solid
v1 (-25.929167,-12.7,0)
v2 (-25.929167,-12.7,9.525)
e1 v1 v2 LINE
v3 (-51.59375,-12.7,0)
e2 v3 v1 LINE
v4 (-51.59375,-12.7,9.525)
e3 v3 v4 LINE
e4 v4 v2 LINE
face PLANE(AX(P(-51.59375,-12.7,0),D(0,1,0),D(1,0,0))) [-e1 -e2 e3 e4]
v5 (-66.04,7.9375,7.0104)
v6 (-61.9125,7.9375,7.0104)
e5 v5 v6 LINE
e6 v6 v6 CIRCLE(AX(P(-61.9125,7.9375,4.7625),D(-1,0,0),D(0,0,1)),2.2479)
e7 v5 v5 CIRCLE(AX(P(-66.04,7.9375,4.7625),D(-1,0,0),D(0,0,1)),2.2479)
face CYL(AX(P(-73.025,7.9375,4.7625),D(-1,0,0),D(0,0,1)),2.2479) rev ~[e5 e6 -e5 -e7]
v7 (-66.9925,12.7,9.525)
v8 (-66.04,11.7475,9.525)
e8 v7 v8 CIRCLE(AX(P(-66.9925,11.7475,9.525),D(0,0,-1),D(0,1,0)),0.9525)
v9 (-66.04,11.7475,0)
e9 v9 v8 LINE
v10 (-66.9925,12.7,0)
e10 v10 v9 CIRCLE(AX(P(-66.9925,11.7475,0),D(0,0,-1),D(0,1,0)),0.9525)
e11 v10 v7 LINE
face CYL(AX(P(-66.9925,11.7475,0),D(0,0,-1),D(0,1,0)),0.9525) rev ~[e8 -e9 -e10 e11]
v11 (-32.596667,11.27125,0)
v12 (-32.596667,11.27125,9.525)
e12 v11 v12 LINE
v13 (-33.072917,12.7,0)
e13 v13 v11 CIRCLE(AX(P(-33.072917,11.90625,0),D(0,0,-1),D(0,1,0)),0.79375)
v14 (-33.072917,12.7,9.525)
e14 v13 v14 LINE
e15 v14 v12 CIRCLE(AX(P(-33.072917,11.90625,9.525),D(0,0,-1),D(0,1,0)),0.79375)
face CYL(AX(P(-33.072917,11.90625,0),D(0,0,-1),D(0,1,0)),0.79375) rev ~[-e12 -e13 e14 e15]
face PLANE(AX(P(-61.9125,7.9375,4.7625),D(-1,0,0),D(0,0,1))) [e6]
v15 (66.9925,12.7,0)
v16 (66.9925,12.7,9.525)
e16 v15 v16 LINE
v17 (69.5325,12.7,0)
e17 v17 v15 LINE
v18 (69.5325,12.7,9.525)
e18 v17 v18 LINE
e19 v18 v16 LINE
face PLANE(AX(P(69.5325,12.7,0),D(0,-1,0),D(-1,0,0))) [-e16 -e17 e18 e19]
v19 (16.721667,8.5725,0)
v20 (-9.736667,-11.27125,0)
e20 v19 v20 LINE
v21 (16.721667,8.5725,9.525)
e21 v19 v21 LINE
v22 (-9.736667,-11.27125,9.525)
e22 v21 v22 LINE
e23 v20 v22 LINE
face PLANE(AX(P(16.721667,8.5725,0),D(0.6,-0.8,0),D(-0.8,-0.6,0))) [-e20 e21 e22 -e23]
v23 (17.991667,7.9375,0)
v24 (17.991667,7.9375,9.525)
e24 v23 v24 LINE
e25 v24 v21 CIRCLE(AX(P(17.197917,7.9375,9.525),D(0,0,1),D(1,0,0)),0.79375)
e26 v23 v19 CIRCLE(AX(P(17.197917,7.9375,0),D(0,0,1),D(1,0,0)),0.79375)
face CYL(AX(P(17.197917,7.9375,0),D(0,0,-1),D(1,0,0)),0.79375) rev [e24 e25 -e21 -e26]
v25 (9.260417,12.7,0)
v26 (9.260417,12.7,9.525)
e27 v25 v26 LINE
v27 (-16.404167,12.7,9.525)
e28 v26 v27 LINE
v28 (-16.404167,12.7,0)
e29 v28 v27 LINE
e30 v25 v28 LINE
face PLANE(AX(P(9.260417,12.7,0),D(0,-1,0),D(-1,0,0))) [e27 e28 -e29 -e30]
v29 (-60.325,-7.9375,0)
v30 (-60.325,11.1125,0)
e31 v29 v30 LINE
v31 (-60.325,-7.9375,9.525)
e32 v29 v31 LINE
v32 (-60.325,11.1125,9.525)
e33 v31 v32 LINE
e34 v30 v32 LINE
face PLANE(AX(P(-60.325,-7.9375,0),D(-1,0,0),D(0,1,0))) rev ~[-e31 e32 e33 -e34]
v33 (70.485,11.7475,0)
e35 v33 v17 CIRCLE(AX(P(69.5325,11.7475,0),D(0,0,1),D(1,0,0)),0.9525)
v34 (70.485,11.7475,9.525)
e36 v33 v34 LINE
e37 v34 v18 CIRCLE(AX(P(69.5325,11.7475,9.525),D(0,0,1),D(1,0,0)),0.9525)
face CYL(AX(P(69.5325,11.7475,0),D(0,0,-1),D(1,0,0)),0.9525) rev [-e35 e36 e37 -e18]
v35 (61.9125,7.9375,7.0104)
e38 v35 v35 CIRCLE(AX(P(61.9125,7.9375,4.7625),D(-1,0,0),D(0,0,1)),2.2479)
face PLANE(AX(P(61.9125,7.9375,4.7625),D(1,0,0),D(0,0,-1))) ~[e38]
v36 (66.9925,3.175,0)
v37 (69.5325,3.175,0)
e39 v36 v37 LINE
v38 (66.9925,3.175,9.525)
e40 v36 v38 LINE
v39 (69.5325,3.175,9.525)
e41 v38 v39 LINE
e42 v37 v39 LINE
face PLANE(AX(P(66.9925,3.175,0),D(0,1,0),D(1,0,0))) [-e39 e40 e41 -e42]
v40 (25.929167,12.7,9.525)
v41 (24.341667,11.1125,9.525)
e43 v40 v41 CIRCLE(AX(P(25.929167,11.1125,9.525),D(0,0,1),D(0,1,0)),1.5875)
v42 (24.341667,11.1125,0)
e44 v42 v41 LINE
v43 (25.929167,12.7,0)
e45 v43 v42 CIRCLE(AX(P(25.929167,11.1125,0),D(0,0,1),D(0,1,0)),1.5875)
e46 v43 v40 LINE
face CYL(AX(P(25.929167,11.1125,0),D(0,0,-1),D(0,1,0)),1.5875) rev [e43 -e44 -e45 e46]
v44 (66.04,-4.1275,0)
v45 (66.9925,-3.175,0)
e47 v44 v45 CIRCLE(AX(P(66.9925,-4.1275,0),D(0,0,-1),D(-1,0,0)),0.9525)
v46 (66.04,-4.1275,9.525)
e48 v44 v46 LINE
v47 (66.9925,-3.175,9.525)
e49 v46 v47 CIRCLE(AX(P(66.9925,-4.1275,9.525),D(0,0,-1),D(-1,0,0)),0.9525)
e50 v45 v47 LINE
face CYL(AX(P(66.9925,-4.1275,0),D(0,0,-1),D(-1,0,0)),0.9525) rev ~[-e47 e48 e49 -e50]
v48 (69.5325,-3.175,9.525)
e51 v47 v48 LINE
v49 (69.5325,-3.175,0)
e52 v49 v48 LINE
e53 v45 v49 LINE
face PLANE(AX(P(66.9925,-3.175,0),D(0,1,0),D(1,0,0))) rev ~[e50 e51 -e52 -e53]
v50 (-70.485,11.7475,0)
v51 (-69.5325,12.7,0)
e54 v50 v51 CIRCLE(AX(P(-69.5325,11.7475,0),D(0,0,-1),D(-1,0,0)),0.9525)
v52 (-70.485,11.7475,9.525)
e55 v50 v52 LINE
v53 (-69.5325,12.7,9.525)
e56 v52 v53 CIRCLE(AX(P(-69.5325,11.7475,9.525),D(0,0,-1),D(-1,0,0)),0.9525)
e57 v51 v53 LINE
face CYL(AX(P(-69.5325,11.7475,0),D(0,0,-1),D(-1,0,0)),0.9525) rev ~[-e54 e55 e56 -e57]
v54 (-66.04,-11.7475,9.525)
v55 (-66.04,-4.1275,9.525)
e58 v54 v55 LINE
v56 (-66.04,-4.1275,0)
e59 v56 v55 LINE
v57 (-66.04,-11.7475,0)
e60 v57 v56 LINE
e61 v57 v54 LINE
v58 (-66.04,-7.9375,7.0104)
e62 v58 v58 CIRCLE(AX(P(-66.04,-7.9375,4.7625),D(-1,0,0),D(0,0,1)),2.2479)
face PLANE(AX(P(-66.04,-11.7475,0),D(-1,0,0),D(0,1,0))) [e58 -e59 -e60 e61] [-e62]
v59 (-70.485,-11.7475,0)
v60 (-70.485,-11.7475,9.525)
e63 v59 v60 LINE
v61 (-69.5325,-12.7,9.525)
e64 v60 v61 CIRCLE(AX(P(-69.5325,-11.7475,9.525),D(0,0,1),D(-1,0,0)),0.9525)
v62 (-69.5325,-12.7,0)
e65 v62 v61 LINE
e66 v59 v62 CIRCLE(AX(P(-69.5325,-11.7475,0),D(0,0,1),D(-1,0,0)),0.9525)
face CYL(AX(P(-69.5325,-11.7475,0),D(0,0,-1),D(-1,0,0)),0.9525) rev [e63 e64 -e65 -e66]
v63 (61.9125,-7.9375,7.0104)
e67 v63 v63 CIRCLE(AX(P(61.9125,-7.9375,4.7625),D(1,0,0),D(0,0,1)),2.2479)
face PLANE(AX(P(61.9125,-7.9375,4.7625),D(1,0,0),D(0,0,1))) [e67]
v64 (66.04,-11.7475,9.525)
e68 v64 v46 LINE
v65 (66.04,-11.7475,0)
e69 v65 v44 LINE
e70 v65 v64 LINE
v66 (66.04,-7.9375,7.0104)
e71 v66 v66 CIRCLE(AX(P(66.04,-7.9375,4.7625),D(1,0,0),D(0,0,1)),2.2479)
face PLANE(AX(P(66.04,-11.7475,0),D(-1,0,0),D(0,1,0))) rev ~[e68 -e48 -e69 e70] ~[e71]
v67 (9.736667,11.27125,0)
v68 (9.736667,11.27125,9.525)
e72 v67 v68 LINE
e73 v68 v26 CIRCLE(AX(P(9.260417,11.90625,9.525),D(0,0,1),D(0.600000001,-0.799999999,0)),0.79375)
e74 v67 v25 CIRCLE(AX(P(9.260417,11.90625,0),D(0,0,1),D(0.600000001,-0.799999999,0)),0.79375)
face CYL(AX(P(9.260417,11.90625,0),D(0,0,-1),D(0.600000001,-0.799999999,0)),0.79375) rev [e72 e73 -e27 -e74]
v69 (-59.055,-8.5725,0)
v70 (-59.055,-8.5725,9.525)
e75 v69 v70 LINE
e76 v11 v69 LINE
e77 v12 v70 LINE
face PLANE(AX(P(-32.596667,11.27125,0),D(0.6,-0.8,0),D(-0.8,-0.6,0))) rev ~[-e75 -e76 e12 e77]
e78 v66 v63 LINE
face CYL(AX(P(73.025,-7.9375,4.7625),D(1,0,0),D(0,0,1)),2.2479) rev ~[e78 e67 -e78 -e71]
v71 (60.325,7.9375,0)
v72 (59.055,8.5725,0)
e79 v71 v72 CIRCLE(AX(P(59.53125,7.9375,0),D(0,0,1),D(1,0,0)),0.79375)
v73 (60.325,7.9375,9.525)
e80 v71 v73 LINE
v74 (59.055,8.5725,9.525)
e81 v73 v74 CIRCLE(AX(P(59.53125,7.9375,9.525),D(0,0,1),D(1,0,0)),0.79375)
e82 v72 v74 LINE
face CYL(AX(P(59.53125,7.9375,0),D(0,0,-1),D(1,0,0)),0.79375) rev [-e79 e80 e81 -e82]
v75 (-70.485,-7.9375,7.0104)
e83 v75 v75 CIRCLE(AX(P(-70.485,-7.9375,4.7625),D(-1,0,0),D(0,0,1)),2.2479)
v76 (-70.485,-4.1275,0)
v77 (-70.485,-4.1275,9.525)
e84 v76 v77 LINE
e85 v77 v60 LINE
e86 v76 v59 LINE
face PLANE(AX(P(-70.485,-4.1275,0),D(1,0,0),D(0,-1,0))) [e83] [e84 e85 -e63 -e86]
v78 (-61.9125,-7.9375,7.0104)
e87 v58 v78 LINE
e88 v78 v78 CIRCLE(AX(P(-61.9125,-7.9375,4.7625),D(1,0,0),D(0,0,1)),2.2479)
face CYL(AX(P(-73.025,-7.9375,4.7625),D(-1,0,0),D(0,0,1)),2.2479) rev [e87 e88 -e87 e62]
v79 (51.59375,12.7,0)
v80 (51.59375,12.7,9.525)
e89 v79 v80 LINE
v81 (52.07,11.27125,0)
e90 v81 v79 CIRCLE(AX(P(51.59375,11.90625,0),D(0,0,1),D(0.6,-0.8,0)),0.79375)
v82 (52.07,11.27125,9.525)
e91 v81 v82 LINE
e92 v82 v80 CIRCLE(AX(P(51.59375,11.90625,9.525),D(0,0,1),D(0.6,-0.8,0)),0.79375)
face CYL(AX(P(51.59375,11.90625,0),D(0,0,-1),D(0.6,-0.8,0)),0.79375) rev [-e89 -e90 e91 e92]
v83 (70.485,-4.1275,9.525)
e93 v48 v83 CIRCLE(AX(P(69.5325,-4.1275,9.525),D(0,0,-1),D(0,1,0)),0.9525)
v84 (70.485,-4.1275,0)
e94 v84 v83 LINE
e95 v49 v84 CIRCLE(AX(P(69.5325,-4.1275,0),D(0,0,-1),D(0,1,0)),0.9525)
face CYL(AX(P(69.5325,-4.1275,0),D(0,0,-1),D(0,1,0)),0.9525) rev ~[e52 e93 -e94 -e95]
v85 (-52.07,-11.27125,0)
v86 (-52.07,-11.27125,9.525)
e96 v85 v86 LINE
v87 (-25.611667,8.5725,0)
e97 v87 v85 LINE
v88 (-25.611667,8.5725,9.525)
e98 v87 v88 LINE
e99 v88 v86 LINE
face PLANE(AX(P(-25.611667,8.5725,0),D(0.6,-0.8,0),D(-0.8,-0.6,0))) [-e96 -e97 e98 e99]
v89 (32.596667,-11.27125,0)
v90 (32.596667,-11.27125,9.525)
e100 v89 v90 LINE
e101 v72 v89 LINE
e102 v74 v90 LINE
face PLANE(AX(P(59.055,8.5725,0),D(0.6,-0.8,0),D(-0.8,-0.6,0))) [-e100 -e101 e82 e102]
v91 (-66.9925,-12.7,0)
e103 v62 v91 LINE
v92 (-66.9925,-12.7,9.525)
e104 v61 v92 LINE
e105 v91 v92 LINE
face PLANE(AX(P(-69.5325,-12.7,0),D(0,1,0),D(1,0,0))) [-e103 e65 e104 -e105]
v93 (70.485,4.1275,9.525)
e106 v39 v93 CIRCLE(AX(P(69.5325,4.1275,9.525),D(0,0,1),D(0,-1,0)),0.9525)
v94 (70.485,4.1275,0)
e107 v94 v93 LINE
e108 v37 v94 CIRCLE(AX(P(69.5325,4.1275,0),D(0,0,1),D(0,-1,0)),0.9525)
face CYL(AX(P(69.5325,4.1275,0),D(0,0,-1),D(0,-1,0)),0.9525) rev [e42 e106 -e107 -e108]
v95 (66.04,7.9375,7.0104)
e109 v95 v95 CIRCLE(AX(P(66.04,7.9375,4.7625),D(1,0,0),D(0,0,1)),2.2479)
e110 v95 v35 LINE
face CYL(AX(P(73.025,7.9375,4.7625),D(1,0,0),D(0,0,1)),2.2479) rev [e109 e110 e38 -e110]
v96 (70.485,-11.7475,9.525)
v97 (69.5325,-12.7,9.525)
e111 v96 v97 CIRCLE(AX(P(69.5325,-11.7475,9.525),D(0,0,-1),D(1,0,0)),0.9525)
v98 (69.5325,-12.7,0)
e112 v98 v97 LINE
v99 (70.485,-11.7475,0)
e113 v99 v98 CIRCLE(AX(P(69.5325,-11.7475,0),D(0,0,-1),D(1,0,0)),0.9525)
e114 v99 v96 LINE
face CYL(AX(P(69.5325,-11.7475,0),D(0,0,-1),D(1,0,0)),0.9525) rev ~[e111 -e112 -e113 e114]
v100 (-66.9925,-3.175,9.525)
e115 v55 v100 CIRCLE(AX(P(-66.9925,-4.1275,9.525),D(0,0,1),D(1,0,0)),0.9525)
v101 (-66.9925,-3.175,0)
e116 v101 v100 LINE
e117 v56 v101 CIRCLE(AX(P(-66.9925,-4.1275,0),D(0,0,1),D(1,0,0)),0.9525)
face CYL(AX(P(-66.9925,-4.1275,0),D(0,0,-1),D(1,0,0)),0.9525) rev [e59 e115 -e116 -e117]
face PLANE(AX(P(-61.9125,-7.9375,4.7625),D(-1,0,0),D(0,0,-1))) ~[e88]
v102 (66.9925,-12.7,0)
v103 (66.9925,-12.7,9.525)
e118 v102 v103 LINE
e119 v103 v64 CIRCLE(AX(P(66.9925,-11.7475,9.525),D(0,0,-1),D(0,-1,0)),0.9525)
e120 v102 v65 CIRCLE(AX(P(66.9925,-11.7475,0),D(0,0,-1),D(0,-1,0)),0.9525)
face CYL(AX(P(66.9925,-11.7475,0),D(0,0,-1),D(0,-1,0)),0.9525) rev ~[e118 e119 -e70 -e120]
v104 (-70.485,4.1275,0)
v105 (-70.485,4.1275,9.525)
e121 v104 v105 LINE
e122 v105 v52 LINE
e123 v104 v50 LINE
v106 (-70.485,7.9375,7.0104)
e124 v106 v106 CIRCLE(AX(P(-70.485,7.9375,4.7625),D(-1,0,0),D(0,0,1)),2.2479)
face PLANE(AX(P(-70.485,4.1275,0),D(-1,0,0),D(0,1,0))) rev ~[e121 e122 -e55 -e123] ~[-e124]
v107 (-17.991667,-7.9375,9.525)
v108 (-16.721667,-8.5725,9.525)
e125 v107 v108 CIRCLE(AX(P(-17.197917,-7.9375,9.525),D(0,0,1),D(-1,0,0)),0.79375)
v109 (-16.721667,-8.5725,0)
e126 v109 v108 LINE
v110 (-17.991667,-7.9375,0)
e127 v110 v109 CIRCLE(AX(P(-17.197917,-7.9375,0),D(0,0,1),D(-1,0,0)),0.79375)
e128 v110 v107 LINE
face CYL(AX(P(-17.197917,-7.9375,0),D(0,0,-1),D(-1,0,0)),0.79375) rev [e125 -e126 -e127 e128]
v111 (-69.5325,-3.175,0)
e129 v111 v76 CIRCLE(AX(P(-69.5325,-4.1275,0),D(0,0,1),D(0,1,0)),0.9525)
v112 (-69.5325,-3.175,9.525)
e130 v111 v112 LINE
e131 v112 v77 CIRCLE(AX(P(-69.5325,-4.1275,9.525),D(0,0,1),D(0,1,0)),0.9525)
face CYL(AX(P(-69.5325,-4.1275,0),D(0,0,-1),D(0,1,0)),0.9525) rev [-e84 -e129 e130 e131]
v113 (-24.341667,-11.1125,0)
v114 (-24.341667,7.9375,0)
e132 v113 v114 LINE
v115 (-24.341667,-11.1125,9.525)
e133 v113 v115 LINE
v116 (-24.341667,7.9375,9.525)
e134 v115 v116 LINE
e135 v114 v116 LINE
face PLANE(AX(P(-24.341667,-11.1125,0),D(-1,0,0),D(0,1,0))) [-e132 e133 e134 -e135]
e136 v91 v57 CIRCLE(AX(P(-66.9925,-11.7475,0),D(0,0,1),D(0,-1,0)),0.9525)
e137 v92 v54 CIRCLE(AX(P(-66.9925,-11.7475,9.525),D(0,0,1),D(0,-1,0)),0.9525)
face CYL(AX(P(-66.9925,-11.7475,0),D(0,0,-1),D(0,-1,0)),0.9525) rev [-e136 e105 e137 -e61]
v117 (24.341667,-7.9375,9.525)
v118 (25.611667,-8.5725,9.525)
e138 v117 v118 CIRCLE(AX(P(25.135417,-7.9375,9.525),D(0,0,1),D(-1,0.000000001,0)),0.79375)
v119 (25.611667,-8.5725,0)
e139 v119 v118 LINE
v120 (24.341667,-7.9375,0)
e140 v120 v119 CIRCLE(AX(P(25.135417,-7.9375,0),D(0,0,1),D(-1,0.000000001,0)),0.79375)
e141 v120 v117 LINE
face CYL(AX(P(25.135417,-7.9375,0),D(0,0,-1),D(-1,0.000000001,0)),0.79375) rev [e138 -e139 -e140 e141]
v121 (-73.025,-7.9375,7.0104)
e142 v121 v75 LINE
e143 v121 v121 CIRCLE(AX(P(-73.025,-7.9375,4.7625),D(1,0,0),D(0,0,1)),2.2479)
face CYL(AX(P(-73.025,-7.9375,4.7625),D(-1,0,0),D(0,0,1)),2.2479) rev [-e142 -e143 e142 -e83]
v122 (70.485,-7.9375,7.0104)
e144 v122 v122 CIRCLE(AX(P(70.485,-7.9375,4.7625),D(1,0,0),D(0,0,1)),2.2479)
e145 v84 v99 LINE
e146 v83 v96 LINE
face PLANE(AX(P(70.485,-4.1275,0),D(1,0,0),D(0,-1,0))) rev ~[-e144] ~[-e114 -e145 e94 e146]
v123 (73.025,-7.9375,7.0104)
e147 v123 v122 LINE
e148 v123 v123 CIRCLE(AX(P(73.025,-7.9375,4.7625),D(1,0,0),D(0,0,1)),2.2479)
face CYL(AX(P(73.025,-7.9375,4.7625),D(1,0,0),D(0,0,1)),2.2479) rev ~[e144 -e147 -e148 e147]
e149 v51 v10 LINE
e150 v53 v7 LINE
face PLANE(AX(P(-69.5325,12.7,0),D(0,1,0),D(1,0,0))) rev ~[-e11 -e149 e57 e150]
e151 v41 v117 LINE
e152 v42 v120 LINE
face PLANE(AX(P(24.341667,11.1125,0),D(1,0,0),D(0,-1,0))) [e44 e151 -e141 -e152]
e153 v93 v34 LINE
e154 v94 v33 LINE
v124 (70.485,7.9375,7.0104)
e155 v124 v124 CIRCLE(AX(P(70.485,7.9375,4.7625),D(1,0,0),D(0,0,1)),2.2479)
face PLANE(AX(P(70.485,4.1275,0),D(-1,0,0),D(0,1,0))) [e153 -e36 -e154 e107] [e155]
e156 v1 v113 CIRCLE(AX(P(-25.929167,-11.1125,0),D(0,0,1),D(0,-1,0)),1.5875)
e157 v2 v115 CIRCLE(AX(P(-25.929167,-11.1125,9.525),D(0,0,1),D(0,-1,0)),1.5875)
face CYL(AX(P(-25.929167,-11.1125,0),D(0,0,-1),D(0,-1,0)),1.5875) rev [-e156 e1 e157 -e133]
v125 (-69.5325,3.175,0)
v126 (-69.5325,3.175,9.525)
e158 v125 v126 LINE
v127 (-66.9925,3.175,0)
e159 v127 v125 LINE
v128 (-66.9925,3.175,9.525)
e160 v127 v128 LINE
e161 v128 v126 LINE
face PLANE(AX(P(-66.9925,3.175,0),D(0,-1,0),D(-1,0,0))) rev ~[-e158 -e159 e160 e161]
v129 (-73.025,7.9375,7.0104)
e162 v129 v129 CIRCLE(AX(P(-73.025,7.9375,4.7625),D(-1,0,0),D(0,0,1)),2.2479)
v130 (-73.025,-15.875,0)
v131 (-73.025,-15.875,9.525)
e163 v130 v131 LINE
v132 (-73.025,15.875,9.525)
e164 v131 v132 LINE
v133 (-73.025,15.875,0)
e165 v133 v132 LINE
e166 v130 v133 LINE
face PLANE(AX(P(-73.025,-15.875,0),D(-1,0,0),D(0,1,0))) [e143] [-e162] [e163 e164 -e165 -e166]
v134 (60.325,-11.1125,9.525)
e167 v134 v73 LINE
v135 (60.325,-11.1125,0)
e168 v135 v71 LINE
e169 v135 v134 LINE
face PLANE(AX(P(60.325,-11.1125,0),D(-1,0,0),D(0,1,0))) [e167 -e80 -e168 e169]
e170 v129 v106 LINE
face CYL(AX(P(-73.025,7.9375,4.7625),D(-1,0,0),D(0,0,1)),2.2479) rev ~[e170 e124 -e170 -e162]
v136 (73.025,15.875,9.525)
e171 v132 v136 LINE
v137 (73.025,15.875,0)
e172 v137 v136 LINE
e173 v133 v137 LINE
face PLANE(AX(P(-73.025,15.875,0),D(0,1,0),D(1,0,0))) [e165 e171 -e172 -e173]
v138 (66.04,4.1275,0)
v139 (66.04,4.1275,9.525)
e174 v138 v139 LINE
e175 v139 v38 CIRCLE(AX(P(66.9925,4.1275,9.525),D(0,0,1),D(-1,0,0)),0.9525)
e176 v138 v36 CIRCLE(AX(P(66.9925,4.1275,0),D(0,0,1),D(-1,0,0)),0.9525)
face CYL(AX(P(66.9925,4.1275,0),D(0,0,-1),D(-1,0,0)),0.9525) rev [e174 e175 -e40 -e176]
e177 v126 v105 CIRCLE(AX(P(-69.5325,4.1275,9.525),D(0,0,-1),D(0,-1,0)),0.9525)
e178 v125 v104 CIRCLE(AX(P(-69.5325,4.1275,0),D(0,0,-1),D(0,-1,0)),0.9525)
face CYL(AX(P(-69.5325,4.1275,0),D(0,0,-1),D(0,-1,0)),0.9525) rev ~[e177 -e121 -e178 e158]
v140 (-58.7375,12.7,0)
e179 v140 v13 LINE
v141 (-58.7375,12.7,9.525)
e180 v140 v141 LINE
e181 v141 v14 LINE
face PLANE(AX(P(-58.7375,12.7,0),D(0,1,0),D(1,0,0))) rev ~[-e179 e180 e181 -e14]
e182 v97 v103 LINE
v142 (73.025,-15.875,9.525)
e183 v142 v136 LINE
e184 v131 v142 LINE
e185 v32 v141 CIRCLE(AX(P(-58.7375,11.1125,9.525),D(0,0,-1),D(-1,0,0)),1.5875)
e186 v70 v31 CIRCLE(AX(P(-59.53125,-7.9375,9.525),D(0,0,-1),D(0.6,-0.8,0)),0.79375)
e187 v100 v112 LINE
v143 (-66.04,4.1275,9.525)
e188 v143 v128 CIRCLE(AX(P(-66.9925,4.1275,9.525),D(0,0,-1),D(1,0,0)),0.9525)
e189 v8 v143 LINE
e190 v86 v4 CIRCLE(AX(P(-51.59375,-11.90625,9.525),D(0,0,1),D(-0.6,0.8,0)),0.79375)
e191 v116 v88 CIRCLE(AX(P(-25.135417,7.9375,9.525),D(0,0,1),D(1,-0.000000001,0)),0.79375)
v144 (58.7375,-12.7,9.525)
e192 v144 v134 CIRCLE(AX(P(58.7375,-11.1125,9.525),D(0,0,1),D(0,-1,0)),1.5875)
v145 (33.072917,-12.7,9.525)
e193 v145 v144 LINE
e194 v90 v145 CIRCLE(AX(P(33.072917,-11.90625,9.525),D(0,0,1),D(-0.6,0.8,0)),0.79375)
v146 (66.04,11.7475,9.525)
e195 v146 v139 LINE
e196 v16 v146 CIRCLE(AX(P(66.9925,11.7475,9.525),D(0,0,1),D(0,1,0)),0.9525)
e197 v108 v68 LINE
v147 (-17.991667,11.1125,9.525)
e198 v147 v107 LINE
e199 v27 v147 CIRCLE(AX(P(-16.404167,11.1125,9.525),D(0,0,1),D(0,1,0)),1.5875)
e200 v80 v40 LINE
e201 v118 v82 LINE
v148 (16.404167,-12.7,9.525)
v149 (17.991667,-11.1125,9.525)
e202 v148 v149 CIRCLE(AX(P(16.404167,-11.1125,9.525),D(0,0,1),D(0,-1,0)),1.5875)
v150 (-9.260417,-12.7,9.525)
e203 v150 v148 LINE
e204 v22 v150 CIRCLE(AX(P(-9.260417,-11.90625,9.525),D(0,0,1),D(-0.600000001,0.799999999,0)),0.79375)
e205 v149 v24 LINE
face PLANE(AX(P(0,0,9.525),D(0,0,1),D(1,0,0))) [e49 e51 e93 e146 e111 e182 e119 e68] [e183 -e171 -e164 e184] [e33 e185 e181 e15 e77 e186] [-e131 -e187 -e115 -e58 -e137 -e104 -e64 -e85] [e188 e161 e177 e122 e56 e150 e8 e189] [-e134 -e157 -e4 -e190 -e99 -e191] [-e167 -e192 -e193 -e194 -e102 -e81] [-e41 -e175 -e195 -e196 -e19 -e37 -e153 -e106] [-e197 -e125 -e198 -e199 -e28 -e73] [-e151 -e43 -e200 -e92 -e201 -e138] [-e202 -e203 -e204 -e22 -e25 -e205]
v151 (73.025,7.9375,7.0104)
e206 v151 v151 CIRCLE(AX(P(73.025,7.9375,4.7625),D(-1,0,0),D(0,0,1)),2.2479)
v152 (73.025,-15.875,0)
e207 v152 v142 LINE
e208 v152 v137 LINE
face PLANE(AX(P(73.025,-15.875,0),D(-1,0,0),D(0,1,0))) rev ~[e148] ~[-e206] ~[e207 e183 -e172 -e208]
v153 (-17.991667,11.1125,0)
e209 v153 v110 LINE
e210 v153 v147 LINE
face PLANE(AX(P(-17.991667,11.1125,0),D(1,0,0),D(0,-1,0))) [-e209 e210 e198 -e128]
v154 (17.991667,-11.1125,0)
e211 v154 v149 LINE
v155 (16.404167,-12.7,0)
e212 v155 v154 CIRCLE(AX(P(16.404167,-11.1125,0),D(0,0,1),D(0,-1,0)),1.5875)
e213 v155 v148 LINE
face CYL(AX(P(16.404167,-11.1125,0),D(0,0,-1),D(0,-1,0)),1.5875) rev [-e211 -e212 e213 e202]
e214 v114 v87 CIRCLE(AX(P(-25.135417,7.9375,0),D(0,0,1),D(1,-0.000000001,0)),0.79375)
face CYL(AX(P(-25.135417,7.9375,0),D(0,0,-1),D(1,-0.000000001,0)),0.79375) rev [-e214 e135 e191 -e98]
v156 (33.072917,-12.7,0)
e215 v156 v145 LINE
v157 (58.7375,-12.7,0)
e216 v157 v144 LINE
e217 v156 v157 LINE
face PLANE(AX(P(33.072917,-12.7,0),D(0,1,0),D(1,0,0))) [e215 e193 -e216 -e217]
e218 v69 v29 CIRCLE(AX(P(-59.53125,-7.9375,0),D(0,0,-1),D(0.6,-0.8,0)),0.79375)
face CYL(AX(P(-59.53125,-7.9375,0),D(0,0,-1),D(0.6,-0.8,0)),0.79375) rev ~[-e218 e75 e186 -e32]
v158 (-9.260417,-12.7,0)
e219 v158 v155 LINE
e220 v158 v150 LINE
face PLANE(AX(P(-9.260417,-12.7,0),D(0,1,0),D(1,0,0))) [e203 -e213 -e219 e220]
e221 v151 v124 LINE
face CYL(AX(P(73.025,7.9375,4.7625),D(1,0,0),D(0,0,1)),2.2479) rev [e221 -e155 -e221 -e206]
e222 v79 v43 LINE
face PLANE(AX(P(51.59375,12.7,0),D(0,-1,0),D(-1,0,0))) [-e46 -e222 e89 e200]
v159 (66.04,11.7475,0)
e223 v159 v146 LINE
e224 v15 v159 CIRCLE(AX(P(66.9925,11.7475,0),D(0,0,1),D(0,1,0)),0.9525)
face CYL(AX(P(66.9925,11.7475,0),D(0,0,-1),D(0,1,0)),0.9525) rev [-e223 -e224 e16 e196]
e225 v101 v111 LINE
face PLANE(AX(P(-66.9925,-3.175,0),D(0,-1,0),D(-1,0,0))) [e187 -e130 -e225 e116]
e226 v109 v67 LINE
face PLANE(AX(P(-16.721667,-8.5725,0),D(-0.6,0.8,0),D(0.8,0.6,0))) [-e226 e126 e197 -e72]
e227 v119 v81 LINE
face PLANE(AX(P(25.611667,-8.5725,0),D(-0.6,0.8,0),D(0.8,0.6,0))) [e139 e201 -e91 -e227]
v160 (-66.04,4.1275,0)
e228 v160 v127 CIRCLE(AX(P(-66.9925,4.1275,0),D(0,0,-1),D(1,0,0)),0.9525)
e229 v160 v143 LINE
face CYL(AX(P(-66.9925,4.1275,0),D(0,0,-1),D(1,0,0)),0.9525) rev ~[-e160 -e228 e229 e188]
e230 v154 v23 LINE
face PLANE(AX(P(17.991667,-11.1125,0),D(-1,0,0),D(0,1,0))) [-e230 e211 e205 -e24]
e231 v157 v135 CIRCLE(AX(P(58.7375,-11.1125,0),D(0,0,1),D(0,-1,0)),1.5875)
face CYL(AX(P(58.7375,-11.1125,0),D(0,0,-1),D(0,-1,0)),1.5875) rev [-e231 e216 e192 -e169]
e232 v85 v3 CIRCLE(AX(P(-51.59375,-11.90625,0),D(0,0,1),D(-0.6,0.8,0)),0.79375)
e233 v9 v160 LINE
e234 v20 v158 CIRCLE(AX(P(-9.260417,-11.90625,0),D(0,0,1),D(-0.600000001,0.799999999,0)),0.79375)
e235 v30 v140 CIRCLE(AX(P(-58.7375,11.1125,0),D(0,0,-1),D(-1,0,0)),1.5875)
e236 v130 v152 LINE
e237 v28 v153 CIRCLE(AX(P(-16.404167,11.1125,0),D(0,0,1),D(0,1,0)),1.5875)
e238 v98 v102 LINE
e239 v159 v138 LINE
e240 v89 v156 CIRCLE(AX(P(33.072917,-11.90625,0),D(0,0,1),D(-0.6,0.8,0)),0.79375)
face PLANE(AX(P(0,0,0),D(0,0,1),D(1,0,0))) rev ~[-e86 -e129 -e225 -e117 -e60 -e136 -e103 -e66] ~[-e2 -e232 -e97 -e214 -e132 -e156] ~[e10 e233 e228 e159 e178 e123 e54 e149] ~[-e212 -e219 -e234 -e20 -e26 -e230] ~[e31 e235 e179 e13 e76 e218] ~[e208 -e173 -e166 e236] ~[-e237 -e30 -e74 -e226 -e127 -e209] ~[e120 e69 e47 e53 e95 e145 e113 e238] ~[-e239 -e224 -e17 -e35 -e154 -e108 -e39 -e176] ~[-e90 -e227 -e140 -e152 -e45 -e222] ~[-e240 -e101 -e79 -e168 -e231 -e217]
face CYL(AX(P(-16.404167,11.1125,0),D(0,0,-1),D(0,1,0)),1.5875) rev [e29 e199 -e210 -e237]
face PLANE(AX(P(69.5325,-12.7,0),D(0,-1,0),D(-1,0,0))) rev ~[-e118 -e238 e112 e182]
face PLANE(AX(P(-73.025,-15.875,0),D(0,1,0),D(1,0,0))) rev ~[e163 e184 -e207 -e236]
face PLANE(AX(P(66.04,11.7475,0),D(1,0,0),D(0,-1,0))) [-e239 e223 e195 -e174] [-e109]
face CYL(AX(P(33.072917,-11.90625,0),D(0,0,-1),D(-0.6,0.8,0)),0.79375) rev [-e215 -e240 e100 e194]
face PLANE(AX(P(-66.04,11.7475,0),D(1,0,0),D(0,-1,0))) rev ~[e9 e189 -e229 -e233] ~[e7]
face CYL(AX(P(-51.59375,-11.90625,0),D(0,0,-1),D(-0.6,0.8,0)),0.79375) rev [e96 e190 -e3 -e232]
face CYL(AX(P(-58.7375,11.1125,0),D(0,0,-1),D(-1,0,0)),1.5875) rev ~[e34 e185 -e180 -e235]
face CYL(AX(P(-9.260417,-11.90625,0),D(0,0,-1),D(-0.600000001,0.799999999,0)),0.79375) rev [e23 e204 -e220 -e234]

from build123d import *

# Parameters (mm, degrees)
SKETCH2_W                                  = 146.05
SKETCH2_H                                  = 31.75
BOSS_EXTRUDE2_DEPTH                        = 9.525
SKETCH3_R                                  = 2.2479
CUT_EXTRUDE1_DEPTH                         = 11.1125
MIRROR1_AT_THE_SECOND_PLANE_COPY_1_SKETC_R = 2.2479
MIRROR1_AT_THE_SECOND_PLANE_COPY_1_DEPTH   = 11.1125


with BuildPart() as part:
    # Sketch2 → Boss-Extrude2 (new body)
    with BuildSketch(Plane.XY):
        Rectangle(SKETCH2_W, SKETCH2_H)
        with BuildLine():
            Line((-58.7375, 12.7), (-33.072916667, 12.7))
            ThreePointArc((-33.072916667, 12.7), (-32.319899299, 12.157255789), (-32.596666667, 11.27125))
            Line((-32.596666667, 11.27125), (-59.055, -8.5725))
            ThreePointArc((-59.055, -8.5725), (-59.886225791, -8.647451583), (-60.325, -7.9375))
            Line((-60.325, -7.9375), (-60.325, 11.1125))
            ThreePointArc((-60.325, 11.1125), (-59.860032015, 12.235032015), (-58.7375, 12.7))
        make_face(mode=Mode.SUBTRACT)
        with BuildLine():
            Line((-51.59375, -12.7), (-25.929166667, -12.7))
            ThreePointArc((-25.929166667, -12.7), (-24.806634652, -12.235032015), (-24.341666667, -11.1125))
            Line((-24.341666667, -11.1125), (-24.341666667, 7.9375))
            ThreePointArc((-24.341666667, 7.9375), (-24.780440875, 8.647451583), (-25.611666667, 8.5725))
            Line((-25.611666667, 8.5725), (-52.07, -11.27125))
            ThreePointArc((-52.07, -11.27125), (-52.346767368, -12.157255789), (-51.59375, -12.7))
        make_face(mode=Mode.SUBTRACT)
        with BuildLine():
            Line((17.991666667, -11.1125), (17.991666667, 7.9375))
            ThreePointArc((17.991666667, 7.9375), (17.552892458, 8.647451583), (16.721666667, 8.5725))
            Line((16.721666667, 8.5725), (-9.736666667, -11.27125))
            ThreePointArc((-9.736666667, -11.27125), (-10.013434034, -12.157255789), (-9.260416667, -12.7))
            Line((-9.260416667, -12.7), (16.404166667, -12.7))
            ThreePointArc((16.404166667, -12.7), (17.526698682, -12.235032015), (17.991666667, -11.1125))
        make_face(mode=Mode.SUBTRACT)
        with BuildLine():
            Line((-16.721666667, -8.5725), (9.736666667, 11.27125))
            ThreePointArc((9.736666667, 11.27125), (10.013434034, 12.157255789), (9.260416667, 12.7))
            Line((9.260416667, 12.7), (-16.404166667, 12.7))
            ThreePointArc((-16.404166667, 12.7), (-17.526698682, 12.235032015), (-17.991666667, 11.1125))
            Line((-17.991666667, 11.1125), (-17.991666667, -7.9375))
            ThreePointArc((-17.991666667, -7.9375), (-17.552892458, -8.647451583), (-16.721666667, -8.5725))
        make_face(mode=Mode.SUBTRACT)
        with BuildLine():
            Line((60.325, -11.1125), (60.325, 7.9375))
            ThreePointArc((60.325, 7.9375), (59.886225791, 8.647451583), (59.055, 8.5725))
            Line((59.055, 8.5725), (32.596666667, -11.27125))
            ThreePointArc((32.596666667, -11.27125), (32.319899299, -12.157255789), (33.072916667, -12.7))
            Line((33.072916667, -12.7), (58.7375, -12.7))
            ThreePointArc((58.7375, -12.7), (59.860032015, -12.235032015), (60.325, -11.1125))
        make_face(mode=Mode.SUBTRACT)
        with BuildLine():
            Line((25.611666667, -8.5725), (52.07, 11.27125))
            ThreePointArc((52.07, 11.27125), (52.346767368, 12.157255789), (51.59375, 12.7))
            Line((51.59375, 12.7), (25.929166667, 12.7))
            ThreePointArc((25.929166667, 12.7), (24.806634652, 12.235032015), (24.341666667, 11.1125))
            Line((24.341666667, 11.1125), (24.341666667, -7.9375))
            ThreePointArc((24.341666667, -7.9375), (24.780440875, -8.647451583), (25.611666667, -8.5725))
        make_face(mode=Mode.SUBTRACT)
        with BuildLine():
            Line((-69.5325, 12.7), (-66.9925, 12.7))
            ThreePointArc((-66.9925, 12.7), (-66.318980791, 12.421019209), (-66.04, 11.7475))
            Line((-66.04, 11.7475), (-66.04, 4.1275))
            ThreePointArc((-66.04, 4.1275), (-66.318980791, 3.453980791), (-66.9925, 3.175))
            Line((-66.9925, 3.175), (-69.5325, 3.175))
            ThreePointArc((-69.5325, 3.175), (-70.206019209, 3.453980791), (-70.485, 4.1275))
            Line((-70.485, 4.1275), (-70.485, 11.7475))
            ThreePointArc((-70.485, 11.7475), (-70.206019209, 12.421019209), (-69.5325, 12.7))
        make_face(mode=Mode.SUBTRACT)
        with BuildLine():
            Line((-66.04, -11.7475), (-66.04, -4.1275))
            ThreePointArc((-66.04, -4.1275), (-66.318980791, -3.453980791), (-66.9925, -3.175))
            Line((-66.9925, -3.175), (-69.5325, -3.175))
            ThreePointArc((-69.5325, -3.175), (-70.206019209, -3.453980791), (-70.485, -4.1275))
            Line((-70.485, -4.1275), (-70.485, -11.7475))
            ThreePointArc((-70.485, -11.7475), (-70.206019209, -12.421019209), (-69.5325, -12.7))
            Line((-69.5325, -12.7), (-66.9925, -12.7))
            ThreePointArc((-66.9925, -12.7), (-66.318980791, -12.421019209), (-66.04, -11.7475))
        make_face(mode=Mode.SUBTRACT)
        with BuildLine():
            Line((69.5325, -12.7), (66.9925, -12.7))
            ThreePointArc((66.9925, -12.7), (66.318980791, -12.421019209), (66.04, -11.7475))
            Line((66.04, -11.7475), (66.04, -4.1275))
            ThreePointArc((66.04, -4.1275), (66.318980791, -3.453980791), (66.9925, -3.175))
            Line((66.9925, -3.175), (69.5325, -3.175))
            ThreePointArc((69.5325, -3.175), (70.206019209, -3.453980791), (70.485, -4.1275))
            Line((70.485, -4.1275), (70.485, -11.7475))
            ThreePointArc((70.485, -11.7475), (70.206019209, -12.421019209), (69.5325, -12.7))
        make_face(mode=Mode.SUBTRACT)
        with BuildLine():
            Line((66.04, 11.7475), (66.04, 4.1275))
            ThreePointArc((66.04, 4.1275), (66.318980791, 3.453980791), (66.9925, 3.175))
            Line((66.9925, 3.175), (69.5325, 3.175))
            ThreePointArc((69.5325, 3.175), (70.206019209, 3.453980791), (70.485, 4.1275))
            Line((70.485, 4.1275), (70.485, 11.7475))
            ThreePointArc((70.485, 11.7475), (70.206019209, 12.421019209), (69.5325, 12.7))
            Line((69.5325, 12.7), (66.9925, 12.7))
            ThreePointArc((66.9925, 12.7), (66.318980791, 12.421019209), (66.04, 11.7475))
        make_face(mode=Mode.SUBTRACT)
    extrude(amount=BOSS_EXTRUDE2_DEPTH)

    # Sketch3 → Cut-Extrude1 (cut)
    with BuildSketch(Plane.ZY.offset(73.025)):
        with Locations((4.7625, 7.9375)):
            Circle(SKETCH3_R)
    cut_extrude1 = extrude(amount=-CUT_EXTRUDE1_DEPTH, mode=Mode.SUBTRACT)

    # Mirror1: Cut-Extrude1 across plane
    add(cut_extrude1.mirror(Plane(origin=(0, 0, 0), x_dir=(0, 0, 1), z_dir=(1, 0, 0))), mode=Mode.SUBTRACT)

    # Mirror1 at the second plane: Cut-Extrude1 across plane
    add(cut_extrude1.mirror(Plane.ZX), mode=Mode.SUBTRACT)

    # Mirror1 at the second plane copy 1 sketc → Mirror1 at the second plane copy 1 (cut)
    with BuildSketch(Plane(origin=(73.025, 0, 0), x_dir=(0, 0, 1), z_dir=(1, 0, 0))):
        with Locations((4.7625, 7.9375)):
            Circle(MIRROR1_AT_THE_SECOND_PLANE_COPY_1_SKETC_R)
    extrude(amount=-MIRROR1_AT_THE_SECOND_PLANE_COPY_1_DEPTH, mode=Mode.SUBTRACT)


solid = part.part
